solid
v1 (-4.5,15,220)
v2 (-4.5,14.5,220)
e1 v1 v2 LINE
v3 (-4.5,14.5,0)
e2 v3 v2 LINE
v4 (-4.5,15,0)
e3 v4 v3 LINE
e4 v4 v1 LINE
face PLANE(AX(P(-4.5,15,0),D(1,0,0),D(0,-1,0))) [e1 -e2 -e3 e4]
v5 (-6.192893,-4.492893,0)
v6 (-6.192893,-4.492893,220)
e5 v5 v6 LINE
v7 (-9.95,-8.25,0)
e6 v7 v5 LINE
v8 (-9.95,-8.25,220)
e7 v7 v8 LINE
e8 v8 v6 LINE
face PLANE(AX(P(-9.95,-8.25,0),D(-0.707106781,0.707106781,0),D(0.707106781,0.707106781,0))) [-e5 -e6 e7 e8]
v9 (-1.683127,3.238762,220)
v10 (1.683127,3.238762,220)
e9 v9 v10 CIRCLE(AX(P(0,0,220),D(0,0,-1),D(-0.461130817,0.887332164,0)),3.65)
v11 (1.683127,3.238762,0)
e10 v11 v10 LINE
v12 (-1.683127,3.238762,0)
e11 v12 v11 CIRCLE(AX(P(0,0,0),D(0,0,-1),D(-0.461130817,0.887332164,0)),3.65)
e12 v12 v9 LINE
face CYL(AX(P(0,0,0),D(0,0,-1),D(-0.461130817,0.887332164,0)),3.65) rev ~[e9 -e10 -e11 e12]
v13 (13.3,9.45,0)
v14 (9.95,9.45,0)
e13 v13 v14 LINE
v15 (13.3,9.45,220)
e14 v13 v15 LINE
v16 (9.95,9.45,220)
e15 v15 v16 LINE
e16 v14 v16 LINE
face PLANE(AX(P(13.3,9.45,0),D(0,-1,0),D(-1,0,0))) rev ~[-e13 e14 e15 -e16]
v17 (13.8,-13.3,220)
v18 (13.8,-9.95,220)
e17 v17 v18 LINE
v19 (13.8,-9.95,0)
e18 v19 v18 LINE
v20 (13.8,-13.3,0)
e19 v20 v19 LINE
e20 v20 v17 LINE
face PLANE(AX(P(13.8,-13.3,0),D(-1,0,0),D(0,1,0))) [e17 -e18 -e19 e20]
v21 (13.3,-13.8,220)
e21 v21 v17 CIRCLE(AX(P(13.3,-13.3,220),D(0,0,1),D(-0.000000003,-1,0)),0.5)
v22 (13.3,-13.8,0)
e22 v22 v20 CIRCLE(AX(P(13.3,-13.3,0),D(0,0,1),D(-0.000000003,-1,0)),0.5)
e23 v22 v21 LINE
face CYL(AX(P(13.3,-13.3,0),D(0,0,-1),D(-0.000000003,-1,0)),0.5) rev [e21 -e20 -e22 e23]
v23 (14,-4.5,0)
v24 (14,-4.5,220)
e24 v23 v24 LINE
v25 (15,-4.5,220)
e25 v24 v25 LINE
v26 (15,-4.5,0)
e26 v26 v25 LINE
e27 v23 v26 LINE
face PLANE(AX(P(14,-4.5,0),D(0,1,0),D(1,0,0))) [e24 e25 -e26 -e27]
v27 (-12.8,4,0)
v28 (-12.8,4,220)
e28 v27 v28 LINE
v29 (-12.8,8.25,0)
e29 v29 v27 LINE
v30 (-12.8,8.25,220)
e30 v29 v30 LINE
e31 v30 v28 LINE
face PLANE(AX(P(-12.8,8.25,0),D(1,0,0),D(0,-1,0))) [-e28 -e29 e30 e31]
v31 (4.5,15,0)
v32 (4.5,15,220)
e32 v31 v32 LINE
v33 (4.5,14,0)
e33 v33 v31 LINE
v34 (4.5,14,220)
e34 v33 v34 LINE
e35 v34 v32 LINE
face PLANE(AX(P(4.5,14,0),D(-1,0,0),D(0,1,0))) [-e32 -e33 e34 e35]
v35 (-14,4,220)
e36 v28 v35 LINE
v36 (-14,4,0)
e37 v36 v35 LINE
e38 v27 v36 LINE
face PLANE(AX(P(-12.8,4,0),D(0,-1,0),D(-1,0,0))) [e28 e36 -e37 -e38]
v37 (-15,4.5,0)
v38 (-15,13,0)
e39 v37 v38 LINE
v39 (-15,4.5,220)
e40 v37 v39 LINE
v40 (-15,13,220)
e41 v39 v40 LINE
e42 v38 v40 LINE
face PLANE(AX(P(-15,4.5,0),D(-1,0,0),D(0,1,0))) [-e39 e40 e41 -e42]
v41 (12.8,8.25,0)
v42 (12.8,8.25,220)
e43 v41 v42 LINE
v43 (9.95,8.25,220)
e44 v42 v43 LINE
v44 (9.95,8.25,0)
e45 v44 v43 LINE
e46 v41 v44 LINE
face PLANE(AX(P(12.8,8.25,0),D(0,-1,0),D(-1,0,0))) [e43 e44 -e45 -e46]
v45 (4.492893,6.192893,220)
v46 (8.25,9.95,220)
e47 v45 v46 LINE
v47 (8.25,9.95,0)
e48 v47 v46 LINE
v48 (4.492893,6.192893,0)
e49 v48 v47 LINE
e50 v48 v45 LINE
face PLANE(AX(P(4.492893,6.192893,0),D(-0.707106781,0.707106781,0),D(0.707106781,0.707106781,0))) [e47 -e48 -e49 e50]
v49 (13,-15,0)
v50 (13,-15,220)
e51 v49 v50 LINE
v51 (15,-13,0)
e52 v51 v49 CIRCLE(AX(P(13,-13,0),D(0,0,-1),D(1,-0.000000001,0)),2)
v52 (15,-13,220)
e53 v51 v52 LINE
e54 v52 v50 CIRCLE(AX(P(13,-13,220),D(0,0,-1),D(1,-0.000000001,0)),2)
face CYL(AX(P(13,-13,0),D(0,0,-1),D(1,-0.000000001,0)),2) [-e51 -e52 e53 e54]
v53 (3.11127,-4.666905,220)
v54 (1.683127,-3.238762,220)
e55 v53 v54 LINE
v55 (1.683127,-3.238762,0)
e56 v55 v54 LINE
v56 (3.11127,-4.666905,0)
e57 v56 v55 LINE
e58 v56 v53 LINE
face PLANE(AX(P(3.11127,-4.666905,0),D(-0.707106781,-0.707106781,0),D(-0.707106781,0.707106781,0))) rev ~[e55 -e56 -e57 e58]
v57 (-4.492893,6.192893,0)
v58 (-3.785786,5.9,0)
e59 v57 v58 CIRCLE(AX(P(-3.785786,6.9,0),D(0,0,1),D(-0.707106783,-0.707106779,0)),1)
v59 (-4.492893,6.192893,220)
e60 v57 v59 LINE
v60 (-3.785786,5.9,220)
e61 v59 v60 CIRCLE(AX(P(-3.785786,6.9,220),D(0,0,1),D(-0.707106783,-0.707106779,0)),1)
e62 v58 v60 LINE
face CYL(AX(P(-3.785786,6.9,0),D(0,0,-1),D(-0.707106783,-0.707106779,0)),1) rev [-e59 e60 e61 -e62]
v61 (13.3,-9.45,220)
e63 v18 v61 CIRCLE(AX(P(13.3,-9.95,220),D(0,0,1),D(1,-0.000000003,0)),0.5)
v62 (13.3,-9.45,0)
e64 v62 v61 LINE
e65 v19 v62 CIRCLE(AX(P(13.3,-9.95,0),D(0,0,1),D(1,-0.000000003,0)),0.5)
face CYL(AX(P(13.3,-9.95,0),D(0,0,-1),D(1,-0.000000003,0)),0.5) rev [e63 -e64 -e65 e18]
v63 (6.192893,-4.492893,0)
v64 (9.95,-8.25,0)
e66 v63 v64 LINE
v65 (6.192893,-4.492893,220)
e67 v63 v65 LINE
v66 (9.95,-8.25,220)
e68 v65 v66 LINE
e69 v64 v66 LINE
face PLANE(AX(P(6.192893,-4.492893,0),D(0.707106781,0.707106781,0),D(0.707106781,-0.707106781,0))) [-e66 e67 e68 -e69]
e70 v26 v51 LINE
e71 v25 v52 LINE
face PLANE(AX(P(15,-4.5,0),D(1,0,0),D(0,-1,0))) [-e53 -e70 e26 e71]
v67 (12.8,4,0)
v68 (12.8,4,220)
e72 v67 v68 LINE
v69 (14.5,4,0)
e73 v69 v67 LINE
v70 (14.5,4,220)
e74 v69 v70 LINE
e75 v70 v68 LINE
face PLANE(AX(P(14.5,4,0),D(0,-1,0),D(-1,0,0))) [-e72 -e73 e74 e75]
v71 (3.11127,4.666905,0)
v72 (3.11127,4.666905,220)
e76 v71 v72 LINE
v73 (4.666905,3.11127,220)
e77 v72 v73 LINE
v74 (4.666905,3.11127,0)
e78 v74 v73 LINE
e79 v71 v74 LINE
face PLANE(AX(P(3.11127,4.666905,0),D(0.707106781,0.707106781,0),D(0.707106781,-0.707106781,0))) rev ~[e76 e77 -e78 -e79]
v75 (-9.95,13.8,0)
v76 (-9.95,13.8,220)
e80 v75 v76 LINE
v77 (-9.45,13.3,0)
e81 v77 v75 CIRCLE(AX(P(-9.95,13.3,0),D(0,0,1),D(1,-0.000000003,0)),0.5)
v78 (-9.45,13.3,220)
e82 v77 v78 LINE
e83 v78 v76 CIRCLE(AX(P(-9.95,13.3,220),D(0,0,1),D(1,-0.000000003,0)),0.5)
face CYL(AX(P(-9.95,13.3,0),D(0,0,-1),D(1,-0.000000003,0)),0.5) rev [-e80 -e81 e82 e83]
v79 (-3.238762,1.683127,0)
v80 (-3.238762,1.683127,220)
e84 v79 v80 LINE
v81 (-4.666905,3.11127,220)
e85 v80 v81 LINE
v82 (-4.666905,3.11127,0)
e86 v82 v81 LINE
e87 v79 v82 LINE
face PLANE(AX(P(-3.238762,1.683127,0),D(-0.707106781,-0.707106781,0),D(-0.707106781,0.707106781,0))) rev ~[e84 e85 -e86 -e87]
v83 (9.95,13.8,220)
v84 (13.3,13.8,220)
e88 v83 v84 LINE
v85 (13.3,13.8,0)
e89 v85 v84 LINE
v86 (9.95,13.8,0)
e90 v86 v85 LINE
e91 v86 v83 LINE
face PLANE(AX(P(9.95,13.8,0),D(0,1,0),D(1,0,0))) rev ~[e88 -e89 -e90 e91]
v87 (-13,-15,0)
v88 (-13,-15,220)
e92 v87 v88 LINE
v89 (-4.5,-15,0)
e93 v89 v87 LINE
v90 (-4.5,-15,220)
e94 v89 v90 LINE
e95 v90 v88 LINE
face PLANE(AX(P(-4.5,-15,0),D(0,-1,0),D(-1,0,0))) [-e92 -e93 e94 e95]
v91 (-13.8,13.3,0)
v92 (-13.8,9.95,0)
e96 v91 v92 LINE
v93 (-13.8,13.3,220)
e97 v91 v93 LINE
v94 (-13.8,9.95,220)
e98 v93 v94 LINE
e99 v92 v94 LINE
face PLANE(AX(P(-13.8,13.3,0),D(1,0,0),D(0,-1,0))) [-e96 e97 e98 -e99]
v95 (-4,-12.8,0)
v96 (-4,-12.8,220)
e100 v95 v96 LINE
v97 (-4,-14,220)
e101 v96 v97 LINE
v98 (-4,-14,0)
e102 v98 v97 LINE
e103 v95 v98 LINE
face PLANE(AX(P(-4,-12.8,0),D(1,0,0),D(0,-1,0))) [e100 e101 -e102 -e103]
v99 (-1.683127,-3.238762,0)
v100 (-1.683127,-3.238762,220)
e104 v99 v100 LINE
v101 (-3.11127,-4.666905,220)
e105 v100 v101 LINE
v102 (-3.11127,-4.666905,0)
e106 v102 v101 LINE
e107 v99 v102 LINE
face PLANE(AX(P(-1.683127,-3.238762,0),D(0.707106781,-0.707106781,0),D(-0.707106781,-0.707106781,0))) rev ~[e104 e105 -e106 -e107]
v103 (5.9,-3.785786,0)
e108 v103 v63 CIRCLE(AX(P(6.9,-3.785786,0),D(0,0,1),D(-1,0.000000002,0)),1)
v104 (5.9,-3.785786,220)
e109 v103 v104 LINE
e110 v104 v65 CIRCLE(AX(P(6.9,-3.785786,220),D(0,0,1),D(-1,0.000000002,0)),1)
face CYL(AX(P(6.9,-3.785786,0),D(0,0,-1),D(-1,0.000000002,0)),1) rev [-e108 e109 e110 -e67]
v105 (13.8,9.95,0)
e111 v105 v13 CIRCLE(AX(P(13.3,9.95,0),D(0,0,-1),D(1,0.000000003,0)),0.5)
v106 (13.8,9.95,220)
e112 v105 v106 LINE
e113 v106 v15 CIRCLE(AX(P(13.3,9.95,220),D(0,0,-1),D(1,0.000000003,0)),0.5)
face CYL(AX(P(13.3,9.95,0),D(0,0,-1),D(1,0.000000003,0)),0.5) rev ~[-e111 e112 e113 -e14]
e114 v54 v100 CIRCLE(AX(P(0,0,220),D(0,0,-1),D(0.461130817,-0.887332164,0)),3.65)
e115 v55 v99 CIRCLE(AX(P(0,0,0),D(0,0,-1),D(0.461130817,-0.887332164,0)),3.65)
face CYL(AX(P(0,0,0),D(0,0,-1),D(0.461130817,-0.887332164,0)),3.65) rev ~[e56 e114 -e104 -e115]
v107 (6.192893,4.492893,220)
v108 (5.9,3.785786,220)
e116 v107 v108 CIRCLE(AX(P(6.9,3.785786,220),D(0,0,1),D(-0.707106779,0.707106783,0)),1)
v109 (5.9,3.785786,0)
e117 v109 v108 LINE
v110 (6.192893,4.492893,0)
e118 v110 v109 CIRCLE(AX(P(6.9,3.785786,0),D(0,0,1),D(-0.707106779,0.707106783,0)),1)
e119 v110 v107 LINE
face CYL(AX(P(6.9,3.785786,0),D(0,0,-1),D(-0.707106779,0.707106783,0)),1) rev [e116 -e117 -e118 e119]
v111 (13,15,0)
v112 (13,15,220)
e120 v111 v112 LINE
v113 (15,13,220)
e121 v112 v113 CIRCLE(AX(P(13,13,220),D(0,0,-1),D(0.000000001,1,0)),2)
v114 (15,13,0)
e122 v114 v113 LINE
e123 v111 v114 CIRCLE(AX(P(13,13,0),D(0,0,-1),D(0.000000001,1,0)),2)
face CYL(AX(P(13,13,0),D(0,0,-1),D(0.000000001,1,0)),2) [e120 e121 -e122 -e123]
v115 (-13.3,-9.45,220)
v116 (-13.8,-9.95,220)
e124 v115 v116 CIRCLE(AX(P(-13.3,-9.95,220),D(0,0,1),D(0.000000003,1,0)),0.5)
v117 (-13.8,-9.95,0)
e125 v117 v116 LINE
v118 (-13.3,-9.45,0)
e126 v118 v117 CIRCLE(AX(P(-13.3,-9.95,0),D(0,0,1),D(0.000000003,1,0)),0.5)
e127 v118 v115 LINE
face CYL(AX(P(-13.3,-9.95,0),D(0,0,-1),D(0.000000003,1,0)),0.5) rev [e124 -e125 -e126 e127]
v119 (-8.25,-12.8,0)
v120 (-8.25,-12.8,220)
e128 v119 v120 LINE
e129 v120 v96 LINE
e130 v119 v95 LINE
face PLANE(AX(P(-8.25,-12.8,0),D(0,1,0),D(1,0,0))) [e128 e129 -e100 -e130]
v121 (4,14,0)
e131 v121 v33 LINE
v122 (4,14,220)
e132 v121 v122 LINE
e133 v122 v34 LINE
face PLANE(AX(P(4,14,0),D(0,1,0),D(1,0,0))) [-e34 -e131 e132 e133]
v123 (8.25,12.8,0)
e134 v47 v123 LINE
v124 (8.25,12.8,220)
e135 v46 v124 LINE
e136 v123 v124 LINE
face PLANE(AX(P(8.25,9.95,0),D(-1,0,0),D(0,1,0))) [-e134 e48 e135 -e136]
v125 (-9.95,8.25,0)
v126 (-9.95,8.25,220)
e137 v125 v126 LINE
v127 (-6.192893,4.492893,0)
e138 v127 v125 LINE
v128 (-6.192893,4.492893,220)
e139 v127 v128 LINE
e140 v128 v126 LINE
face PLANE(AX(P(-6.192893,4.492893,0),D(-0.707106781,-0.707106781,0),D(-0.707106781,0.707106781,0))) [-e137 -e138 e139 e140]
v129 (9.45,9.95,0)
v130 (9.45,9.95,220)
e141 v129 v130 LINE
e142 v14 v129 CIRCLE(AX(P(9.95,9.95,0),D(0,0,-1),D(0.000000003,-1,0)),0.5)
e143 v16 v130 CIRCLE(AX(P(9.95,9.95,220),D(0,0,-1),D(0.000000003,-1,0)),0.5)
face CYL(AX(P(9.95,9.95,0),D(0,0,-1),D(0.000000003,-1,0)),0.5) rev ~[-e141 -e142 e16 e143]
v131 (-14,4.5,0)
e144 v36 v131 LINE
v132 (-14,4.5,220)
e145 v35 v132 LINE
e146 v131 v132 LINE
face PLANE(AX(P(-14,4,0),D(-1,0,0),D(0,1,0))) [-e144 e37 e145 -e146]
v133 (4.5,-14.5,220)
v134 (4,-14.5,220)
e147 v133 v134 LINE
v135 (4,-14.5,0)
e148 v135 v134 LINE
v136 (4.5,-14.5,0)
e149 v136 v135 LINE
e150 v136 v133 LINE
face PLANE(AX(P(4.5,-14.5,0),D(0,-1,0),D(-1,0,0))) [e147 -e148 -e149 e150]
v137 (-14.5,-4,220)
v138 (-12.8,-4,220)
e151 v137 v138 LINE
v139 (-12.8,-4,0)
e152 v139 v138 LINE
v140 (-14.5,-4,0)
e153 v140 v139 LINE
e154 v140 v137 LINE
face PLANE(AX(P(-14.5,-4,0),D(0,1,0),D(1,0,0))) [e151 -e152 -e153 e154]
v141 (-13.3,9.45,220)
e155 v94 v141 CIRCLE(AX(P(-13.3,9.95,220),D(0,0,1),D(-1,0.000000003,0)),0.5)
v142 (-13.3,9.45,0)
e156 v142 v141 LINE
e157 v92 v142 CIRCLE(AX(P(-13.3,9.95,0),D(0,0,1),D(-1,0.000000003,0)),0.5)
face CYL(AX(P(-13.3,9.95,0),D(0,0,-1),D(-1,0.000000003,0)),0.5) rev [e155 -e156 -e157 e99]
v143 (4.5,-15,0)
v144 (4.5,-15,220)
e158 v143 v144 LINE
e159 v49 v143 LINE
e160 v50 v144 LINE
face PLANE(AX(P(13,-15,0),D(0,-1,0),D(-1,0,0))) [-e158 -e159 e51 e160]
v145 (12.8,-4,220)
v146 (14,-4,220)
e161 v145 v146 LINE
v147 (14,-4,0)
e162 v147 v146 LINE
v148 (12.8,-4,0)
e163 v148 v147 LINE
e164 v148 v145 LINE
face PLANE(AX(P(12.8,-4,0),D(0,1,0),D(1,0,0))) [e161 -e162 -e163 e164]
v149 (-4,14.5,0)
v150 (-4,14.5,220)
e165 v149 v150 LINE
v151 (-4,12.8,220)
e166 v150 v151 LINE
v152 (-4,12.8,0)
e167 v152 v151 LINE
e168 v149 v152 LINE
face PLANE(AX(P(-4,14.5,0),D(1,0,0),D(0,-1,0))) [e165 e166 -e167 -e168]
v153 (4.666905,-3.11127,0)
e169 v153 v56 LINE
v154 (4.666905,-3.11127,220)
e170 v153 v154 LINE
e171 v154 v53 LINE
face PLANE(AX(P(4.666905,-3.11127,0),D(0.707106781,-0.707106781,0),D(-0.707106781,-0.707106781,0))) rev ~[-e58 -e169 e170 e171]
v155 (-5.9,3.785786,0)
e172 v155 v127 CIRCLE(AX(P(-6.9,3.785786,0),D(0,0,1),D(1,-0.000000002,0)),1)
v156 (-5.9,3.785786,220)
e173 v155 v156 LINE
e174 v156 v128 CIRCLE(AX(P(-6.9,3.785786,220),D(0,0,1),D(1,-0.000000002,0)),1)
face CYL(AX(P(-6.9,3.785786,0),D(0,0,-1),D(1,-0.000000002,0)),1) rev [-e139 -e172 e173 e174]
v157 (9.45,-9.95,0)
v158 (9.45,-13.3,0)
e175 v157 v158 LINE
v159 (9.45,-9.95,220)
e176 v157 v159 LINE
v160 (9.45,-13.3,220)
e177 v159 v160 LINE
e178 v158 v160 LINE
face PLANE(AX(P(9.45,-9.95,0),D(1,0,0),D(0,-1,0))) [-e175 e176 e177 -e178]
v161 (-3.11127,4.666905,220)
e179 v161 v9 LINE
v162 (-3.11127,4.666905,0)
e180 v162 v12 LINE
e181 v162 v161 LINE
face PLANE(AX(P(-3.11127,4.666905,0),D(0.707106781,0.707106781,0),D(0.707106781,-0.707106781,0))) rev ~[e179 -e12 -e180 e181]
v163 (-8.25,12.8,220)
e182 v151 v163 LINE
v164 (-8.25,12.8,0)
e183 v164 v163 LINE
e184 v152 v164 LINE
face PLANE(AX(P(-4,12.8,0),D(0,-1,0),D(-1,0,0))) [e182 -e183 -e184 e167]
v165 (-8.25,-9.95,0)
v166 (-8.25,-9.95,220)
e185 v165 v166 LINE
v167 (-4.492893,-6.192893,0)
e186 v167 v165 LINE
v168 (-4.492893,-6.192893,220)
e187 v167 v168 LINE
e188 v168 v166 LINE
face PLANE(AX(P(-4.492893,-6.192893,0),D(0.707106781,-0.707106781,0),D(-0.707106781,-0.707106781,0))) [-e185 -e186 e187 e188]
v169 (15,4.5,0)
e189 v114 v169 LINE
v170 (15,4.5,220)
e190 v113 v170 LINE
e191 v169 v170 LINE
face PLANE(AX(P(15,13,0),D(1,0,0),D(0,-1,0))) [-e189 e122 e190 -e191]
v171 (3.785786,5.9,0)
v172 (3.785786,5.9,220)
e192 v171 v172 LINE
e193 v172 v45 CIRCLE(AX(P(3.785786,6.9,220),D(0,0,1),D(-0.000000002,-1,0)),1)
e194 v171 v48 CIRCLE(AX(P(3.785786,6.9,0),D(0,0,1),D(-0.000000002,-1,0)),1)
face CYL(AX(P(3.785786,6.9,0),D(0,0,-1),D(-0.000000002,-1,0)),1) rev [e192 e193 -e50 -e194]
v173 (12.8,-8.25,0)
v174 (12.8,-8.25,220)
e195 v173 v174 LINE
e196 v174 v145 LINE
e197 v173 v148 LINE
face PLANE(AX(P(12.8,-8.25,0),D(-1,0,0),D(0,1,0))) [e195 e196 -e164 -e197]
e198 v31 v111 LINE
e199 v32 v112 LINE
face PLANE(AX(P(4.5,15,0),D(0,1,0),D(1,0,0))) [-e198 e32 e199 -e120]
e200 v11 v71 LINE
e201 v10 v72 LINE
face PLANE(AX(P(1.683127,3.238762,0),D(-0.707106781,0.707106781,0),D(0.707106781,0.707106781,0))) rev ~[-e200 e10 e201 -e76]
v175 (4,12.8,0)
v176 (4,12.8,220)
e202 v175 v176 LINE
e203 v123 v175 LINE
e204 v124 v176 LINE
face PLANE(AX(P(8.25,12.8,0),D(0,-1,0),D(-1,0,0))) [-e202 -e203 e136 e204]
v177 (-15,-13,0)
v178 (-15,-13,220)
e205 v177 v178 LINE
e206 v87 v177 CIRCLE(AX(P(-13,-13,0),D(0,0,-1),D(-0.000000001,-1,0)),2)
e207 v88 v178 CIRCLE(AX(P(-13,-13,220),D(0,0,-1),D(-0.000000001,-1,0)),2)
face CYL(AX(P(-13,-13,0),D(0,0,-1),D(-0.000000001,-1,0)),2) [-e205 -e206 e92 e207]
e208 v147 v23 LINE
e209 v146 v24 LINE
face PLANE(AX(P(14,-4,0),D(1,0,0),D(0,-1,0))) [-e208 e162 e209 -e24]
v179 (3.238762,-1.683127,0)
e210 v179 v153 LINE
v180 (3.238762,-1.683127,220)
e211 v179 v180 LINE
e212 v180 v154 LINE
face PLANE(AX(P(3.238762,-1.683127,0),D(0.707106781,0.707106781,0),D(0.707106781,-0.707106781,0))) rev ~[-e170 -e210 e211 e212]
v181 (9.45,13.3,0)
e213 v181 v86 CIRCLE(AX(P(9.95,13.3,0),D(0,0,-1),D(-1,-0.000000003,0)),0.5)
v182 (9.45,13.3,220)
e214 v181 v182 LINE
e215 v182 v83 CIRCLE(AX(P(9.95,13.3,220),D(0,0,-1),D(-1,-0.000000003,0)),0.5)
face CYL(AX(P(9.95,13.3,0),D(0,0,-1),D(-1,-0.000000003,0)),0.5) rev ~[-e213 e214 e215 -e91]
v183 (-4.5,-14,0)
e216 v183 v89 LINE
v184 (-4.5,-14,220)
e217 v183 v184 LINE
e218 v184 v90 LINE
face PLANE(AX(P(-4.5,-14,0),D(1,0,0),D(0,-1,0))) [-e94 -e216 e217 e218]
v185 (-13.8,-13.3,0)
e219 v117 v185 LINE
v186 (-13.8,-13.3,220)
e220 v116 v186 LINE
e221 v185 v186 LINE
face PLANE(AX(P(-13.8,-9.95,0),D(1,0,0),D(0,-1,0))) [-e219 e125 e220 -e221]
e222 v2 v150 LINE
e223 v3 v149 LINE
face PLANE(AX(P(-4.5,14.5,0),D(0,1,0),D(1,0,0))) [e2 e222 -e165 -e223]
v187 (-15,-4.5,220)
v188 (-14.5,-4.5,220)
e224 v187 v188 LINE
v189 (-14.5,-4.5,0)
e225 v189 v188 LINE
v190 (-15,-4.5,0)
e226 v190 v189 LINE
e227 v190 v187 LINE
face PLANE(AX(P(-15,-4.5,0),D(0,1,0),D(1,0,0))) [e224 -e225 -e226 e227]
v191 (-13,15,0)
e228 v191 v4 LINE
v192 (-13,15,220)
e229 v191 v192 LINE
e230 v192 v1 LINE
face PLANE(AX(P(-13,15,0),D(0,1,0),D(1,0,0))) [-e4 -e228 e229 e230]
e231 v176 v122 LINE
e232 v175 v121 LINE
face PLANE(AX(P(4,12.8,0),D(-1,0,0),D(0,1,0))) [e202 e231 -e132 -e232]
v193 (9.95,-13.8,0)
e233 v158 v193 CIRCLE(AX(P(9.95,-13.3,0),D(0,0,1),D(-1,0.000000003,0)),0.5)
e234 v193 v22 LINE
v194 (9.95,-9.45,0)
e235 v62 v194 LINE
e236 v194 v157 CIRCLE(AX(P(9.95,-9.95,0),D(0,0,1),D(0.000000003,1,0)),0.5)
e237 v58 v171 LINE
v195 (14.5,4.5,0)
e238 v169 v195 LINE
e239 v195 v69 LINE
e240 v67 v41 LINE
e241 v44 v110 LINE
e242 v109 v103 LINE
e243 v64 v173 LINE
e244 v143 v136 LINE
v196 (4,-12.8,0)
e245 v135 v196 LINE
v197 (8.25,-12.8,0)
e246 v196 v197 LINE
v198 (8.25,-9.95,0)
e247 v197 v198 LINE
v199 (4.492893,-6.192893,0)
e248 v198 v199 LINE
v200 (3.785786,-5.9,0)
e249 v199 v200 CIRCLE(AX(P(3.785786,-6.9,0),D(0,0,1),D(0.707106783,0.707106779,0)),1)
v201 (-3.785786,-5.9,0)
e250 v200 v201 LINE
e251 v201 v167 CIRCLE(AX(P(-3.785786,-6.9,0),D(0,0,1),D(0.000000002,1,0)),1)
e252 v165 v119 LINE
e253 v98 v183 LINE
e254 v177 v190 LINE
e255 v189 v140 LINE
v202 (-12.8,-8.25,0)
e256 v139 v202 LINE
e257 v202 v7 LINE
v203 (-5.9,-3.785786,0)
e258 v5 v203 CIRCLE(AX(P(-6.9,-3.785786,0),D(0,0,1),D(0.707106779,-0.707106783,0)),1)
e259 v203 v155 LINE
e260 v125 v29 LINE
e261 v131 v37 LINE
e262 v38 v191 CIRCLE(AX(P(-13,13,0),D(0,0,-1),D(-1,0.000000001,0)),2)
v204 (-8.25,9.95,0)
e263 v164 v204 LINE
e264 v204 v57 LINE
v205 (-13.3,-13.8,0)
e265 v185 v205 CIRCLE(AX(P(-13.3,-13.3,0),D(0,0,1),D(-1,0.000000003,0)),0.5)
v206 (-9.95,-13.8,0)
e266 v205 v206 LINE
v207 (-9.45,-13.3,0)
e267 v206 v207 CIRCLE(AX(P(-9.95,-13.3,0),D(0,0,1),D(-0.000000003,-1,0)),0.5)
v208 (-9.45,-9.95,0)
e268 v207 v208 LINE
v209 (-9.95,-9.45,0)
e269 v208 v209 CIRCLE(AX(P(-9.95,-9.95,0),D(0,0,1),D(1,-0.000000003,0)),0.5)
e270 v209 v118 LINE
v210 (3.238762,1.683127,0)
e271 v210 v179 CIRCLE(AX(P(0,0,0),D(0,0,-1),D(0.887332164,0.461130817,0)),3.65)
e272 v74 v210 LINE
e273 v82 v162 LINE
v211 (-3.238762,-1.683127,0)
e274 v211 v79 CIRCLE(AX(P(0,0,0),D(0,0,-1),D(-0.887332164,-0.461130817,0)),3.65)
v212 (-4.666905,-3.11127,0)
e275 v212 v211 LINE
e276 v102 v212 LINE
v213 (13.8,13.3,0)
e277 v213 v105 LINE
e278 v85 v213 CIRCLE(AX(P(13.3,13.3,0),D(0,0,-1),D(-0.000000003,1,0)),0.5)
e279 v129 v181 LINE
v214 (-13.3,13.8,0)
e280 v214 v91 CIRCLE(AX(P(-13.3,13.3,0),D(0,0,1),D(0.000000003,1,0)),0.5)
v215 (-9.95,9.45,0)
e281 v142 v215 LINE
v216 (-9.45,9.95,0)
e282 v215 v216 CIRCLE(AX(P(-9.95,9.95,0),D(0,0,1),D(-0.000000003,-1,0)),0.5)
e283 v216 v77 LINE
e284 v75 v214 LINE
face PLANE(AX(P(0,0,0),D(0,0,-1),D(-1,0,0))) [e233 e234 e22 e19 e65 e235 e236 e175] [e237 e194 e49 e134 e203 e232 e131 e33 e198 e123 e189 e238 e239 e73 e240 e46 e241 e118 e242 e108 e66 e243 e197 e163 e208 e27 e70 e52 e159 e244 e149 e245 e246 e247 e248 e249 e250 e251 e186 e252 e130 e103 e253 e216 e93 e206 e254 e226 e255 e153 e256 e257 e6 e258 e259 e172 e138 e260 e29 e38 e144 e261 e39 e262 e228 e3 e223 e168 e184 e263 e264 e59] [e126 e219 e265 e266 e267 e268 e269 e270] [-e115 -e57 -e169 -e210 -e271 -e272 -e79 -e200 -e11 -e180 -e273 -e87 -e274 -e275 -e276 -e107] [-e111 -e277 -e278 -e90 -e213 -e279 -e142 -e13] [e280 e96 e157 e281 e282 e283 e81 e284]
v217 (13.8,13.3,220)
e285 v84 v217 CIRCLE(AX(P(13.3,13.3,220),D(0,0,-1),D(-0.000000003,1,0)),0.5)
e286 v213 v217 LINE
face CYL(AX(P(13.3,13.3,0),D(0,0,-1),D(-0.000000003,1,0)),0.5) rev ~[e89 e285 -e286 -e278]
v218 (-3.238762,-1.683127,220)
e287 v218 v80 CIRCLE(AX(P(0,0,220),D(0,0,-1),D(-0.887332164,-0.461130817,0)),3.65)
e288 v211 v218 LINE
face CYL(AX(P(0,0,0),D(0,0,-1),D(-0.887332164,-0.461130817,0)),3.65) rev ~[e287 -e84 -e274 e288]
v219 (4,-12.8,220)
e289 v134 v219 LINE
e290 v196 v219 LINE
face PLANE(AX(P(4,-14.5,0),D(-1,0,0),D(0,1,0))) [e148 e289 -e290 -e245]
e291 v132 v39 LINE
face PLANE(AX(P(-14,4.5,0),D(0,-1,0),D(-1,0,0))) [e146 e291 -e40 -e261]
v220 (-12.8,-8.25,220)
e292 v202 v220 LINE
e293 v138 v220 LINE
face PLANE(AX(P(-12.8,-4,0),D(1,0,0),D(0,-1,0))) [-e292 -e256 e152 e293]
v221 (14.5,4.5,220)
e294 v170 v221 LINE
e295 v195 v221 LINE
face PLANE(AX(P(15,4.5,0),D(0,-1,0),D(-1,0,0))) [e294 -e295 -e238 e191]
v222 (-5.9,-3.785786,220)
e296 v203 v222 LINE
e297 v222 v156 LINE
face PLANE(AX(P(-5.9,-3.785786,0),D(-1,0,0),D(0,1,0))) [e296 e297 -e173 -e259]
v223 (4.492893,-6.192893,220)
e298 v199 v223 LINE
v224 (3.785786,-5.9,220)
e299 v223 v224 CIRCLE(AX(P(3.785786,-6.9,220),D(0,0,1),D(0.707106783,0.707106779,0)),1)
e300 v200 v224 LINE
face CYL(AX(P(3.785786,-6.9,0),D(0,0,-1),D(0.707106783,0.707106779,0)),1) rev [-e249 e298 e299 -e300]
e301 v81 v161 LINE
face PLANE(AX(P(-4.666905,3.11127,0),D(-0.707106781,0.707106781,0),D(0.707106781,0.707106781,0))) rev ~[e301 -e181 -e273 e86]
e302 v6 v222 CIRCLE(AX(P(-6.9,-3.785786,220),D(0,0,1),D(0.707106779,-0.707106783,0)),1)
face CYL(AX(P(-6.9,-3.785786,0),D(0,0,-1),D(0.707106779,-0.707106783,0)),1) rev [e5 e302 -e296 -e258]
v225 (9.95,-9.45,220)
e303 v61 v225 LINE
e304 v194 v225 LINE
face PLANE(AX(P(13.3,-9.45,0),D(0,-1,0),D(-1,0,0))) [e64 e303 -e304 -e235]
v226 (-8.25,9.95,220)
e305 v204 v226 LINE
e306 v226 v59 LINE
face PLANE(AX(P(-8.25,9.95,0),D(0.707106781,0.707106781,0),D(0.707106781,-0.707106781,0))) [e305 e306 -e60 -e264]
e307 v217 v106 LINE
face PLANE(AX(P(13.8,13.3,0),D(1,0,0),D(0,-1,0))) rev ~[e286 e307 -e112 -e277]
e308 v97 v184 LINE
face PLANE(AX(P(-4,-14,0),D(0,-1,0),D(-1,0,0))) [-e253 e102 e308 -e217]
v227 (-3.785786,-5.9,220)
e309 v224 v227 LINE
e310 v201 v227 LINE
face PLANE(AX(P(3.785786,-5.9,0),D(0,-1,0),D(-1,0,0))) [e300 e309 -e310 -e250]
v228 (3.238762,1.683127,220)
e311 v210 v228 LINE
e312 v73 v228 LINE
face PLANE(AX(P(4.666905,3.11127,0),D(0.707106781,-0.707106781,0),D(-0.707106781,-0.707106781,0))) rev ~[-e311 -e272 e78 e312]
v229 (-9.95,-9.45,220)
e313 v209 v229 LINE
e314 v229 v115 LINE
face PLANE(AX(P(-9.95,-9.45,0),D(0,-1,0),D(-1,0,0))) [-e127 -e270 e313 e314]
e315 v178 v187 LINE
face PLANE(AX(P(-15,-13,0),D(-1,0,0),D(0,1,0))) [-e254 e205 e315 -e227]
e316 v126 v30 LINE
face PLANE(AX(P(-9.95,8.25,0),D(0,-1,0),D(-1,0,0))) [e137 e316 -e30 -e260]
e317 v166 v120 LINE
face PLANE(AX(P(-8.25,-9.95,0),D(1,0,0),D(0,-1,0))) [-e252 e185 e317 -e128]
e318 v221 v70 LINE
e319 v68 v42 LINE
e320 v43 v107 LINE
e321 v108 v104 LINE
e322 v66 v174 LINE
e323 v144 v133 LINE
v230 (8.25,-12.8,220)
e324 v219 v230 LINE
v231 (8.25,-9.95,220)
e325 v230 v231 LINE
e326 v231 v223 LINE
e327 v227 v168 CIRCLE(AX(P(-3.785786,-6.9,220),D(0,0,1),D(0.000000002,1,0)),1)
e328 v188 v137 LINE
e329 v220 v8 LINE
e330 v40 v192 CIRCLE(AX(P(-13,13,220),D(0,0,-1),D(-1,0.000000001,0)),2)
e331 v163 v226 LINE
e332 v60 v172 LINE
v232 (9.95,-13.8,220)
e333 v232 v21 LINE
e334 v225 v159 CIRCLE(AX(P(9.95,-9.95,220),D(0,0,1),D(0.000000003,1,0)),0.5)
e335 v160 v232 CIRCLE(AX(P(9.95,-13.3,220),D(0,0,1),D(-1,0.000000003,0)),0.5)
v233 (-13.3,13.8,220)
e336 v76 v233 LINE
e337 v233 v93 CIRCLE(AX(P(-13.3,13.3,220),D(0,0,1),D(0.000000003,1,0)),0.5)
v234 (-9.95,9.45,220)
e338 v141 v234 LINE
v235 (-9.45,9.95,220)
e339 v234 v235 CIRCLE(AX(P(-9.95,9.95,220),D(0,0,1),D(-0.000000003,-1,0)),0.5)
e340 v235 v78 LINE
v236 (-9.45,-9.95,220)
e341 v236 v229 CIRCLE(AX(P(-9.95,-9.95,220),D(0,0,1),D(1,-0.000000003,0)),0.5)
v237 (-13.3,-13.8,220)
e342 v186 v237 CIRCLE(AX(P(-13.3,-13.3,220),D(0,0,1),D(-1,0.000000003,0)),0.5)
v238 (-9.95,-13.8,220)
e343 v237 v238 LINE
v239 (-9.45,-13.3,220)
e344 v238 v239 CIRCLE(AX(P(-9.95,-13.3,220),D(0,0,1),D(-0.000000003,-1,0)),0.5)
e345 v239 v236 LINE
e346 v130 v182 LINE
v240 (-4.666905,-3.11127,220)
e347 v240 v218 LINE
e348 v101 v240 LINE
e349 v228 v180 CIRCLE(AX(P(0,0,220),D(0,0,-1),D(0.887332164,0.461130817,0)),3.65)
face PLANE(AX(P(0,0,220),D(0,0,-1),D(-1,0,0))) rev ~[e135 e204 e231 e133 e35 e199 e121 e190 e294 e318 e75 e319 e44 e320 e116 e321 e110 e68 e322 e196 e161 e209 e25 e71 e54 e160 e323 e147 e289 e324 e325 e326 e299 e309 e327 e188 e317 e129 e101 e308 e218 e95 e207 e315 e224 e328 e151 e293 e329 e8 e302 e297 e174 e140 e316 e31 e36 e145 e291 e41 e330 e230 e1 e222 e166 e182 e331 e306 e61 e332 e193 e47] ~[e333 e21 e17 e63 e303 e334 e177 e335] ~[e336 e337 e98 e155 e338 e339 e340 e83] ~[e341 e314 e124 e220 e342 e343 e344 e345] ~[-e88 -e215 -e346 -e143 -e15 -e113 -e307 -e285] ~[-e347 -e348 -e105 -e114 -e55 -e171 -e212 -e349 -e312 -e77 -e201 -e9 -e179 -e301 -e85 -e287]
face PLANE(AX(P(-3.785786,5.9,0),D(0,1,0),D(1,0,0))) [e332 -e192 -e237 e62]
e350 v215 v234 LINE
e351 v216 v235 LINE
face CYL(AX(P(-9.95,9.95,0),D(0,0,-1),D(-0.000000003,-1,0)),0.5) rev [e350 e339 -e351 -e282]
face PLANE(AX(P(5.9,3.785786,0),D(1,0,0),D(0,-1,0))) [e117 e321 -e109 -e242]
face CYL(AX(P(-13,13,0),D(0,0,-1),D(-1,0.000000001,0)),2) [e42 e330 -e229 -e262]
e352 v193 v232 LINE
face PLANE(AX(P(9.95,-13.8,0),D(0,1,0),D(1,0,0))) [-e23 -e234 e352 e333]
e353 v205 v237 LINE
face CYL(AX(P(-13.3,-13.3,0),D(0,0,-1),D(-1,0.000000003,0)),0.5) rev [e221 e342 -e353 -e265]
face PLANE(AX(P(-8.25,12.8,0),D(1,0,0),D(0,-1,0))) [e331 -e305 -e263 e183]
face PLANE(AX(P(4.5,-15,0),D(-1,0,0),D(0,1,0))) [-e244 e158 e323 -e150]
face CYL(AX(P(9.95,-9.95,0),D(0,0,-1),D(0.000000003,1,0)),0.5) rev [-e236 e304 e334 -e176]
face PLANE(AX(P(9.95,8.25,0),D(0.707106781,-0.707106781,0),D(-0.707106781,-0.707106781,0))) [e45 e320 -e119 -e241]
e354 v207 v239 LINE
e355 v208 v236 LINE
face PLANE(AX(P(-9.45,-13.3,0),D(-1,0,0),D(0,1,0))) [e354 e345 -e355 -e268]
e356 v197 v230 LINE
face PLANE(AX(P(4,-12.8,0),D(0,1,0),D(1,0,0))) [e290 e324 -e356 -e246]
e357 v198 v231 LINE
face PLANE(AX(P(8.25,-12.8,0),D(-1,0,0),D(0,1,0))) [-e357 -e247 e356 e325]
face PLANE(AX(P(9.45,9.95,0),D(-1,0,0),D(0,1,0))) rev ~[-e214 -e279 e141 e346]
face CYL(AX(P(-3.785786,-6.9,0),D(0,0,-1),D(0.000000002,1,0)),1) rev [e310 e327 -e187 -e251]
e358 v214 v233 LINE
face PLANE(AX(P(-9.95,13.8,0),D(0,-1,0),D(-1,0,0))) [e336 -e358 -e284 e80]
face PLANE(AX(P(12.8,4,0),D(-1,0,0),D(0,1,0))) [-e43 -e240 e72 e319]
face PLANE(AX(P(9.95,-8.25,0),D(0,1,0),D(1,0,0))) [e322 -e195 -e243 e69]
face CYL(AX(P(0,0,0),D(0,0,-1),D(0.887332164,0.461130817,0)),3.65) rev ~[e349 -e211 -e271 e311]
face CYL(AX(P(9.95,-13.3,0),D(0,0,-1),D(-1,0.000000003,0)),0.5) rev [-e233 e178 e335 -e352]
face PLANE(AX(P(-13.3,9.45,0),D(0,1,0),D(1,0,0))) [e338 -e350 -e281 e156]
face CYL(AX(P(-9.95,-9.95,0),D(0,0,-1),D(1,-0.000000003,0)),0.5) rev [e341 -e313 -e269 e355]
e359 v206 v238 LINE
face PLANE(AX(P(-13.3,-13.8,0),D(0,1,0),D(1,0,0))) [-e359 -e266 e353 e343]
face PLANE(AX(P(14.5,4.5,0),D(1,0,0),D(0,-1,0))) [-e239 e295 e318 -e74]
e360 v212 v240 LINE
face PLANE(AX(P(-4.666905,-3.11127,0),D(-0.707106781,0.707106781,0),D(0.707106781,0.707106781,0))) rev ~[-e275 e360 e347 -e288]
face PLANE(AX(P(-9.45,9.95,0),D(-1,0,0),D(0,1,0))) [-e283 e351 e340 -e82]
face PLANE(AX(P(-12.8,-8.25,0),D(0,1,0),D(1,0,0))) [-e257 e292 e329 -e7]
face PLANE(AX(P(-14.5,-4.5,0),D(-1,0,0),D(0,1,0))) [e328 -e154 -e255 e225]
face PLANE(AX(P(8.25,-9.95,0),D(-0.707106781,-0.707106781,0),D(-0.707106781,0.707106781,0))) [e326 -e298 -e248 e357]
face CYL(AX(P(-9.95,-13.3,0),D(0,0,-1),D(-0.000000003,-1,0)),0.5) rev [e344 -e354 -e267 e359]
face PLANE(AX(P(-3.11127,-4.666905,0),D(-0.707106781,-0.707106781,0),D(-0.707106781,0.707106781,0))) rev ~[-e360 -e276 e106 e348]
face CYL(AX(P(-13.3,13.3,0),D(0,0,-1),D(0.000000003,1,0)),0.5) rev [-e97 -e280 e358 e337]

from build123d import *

# Parameters (mm, degrees)
BOSS_EXTRUDE1_DEPTH = 220


with BuildPart() as part:
    # Sketch1 → Boss-Extrude1 (new body)
    with BuildSketch(Plane.XY):
        with BuildLine():
            Line((-4.5, 14.5), (-4.5, 15))
            Line((-4.5, 15), (-13, 15))
            ThreePointArc((-13, 15), (-14.414213562, 14.414213562), (-15, 13))
            Line((-15, 13), (-15, 4.5))
            Line((-15, 4.5), (-14, 4.5))
            Line((-14, 4.5), (-14, 4))
            Line((-14, 4), (-12.8, 4))
            Line((-12.8, 4), (-12.8, 8.25))
            Line((-12.8, 8.25), (-9.95, 8.25))
            Line((-9.95, 8.25), (-6.192893219, 4.492893219))
            ThreePointArc((-6.192893219, 4.492893219), (-5.976120467, 4.16846987), (-5.9, 3.785786438))
            Line((-5.9, 3.785786438), (-5.9, -3.785786438))
            ThreePointArc((-5.9, -3.785786438), (-5.976120467, -4.16846987), (-6.192893219, -4.492893219))
            Line((-6.192893219, -4.492893219), (-9.95, -8.25))
            Line((-9.95, -8.25), (-12.8, -8.25))
            Line((-12.8, -8.25), (-12.8, -4))
            Line((-12.8, -4), (-14.5, -4))
            Line((-14.5, -4), (-14.5, -4.5))
            Line((-14.5, -4.5), (-15, -4.5))
            Line((-15, -4.5), (-15, -13))
            ThreePointArc((-15, -13), (-14.414213562, -14.414213562), (-13, -15))
            Line((-13, -15), (-4.5, -15))
            Line((-4.5, -15), (-4.5, -14))
            Line((-4.5, -14), (-4, -14))
            Line((-4, -14), (-4, -12.8))
            Line((-4, -12.8), (-8.25, -12.8))
            Line((-8.25, -12.8), (-8.25, -9.95))
            Line((-8.25, -9.95), (-4.492893219, -6.192893219))
            ThreePointArc((-4.492893219, -6.192893219), (-4.16846987, -5.976120467), (-3.785786438, -5.9))
            Line((-3.785786438, -5.9), (3.785786438, -5.9))
            ThreePointArc((3.785786438, -5.9), (4.16846987, -5.976120467), (4.492893219, -6.192893219))
            Line((4.492893219, -6.192893219), (8.25, -9.95))
            Line((8.25, -9.95), (8.25, -12.8))
            Line((8.25, -12.8), (4, -12.8))
            Line((4, -12.8), (4, -14.5))
            Line((4, -14.5), (4.5, -14.5))
            Line((4.5, -14.5), (4.5, -15))
            Line((4.5, -15), (13, -15))
            ThreePointArc((13, -15), (14.414213562, -14.414213562), (15, -13))
            Line((15, -13), (15, -4.5))
            Line((15, -4.5), (14, -4.5))
            Line((14, -4.5), (14, -4))
            Line((14, -4), (12.8, -4))
            Line((12.8, -4), (12.8, -8.25))
            Line((12.8, -8.25), (9.95, -8.25))
            Line((9.95, -8.25), (6.192893219, -4.492893219))
            ThreePointArc((6.192893219, -4.492893219), (5.976120467, -4.16846987), (5.9, -3.785786438))
            Line((5.9, -3.785786438), (5.9, 3.785786438))
            ThreePointArc((5.9, 3.785786438), (5.976120467, 4.16846987), (6.192893219, 4.492893219))
            Line((6.192893219, 4.492893219), (9.95, 8.25))
            Line((9.95, 8.25), (12.8, 8.25))
            Line((12.8, 8.25), (12.8, 4))
            Line((12.8, 4), (14.5, 4))
            Line((14.5, 4), (14.5, 4.5))
            Line((14.5, 4.5), (15, 4.5))
            Line((15, 4.5), (15, 13))
            ThreePointArc((15, 13), (14.414213562, 14.414213562), (13, 15))
            Line((13, 15), (4.5, 15))
            Line((4.5, 15), (4.5, 14))
            Line((4.5, 14), (4, 14))
            Line((4, 14), (4, 12.8))
            Line((4, 12.8), (8.25, 12.8))
            Line((8.25, 12.8), (8.25, 9.95))
            Line((8.25, 9.95), (4.492893219, 6.192893219))
            ThreePointArc((4.492893219, 6.192893219), (4.16846987, 5.976120467), (3.785786438, 5.9))
            Line((3.785786438, 5.9), (-3.785786438, 5.9))
            ThreePointArc((-3.785786438, 5.9), (-4.16846987, 5.976120467), (-4.492893219, 6.192893219))
            Line((-4.492893219, 6.192893219), (-8.25, 9.95))
            Line((-8.25, 9.95), (-8.25, 12.8))
            Line((-8.25, 12.8), (-4, 12.8))
            Line((-4, 12.8), (-4, 14.5))
            Line((-4, 14.5), (-4.5, 14.5))
        make_face()
        with BuildLine():
            Line((-9.45, -9.95), (-9.45, -13.3))
            ThreePointArc((-9.45, -13.3), (-9.596446609, -13.653553391), (-9.95, -13.8))
            Line((-9.95, -13.8), (-13.3, -13.8))
            ThreePointArc((-13.3, -13.8), (-13.653553391, -13.653553391), (-13.8, -13.3))
            Line((-13.8, -13.3), (-13.8, -9.95))
            ThreePointArc((-13.8, -9.95), (-13.653553391, -9.596446609), (-13.3, -9.45))
            Line((-13.3, -9.45), (-9.95, -9.45))
            ThreePointArc((-9.95, -9.45), (-9.596446609, -9.596446609), (-9.45, -9.95))
        make_face(mode=Mode.SUBTRACT)
        with BuildLine():
            Line((9.95, -9.45), (13.3, -9.45))
            ThreePointArc((13.3, -9.45), (13.653553391, -9.596446609), (13.8, -9.95))
            Line((13.8, -9.95), (13.8, -13.3))
            ThreePointArc((13.8, -13.3), (13.653553391, -13.653553391), (13.3, -13.8))
            Line((13.3, -13.8), (9.95, -13.8))
            ThreePointArc((9.95, -13.8), (9.596446609, -13.653553391), (9.45, -13.3))
            Line((9.45, -13.3), (9.45, -9.95))
            ThreePointArc((9.45, -9.95), (9.596446609, -9.596446609), (9.95, -9.45))
        make_face(mode=Mode.SUBTRACT)
        with BuildLine():
            Line((-9.95, 9.45), (-13.3, 9.45))
            ThreePointArc((-13.3, 9.45), (-13.653553391, 9.596446609), (-13.8, 9.95))
            Line((-13.8, 9.95), (-13.8, 13.3))
            ThreePointArc((-13.8, 13.3), (-13.653553391, 13.653553391), (-13.3, 13.8))
            Line((-13.3, 13.8), (-9.95, 13.8))
            ThreePointArc((-9.95, 13.8), (-9.596446609, 13.653553391), (-9.45, 13.3))
            Line((-9.45, 13.3), (-9.45, 9.95))
            ThreePointArc((-9.45, 9.95), (-9.596446609, 9.596446609), (-9.95, 9.45))
        make_face(mode=Mode.SUBTRACT)
        with BuildLine():
            ThreePointArc((1.683127481, -3.2387624), (0, -3.65), (-1.683127481, -3.2387624))
            Line((-1.683127481, -3.2387624), (-3.111269837, -4.666904756))
            Line((-3.111269837, -4.666904756), (-4.666904756, -3.111269837))
            Line((-4.666904756, -3.111269837), (-3.2387624, -1.683127481))
            ThreePointArc((-3.2387624, -1.683127481), (-3.65, 0), (-3.2387624, 1.683127481))
            Line((-3.2387624, 1.683127481), (-4.666904756, 3.111269837))
            Line((-4.666904756, 3.111269837), (-3.111269837, 4.666904756))
            Line((-3.111269837, 4.666904756), (-1.683127481, 3.2387624))
            ThreePointArc((-1.683127481, 3.2387624), (0, 3.65), (1.683127481, 3.2387624))
            Line((1.683127481, 3.2387624), (3.111269837, 4.666904756))
            Line((3.111269837, 4.666904756), (4.666904756, 3.111269837))
            Line((4.666904756, 3.111269837), (3.2387624, 1.683127481))
            ThreePointArc((3.2387624, 1.683127481), (3.65, 0), (3.2387624, -1.683127481))
            Line((3.2387624, -1.683127481), (4.666904756, -3.111269837))
            Line((4.666904756, -3.111269837), (3.111269837, -4.666904756))
            Line((3.111269837, -4.666904756), (1.683127481, -3.2387624))
        make_face(mode=Mode.SUBTRACT)
        with BuildLine():
            ThreePointArc((9.45, 13.3), (9.596446609, 13.653553391), (9.95, 13.8))
            Line((9.95, 13.8), (13.3, 13.8))
            ThreePointArc((13.3, 13.8), (13.653553391, 13.653553391), (13.8, 13.3))
            Line((13.8, 13.3), (13.8, 9.95))
            ThreePointArc((13.8, 9.95), (13.653553391, 9.596446609), (13.3, 9.45))
            Line((13.3, 9.45), (9.95, 9.45))
            ThreePointArc((9.95, 9.45), (9.596446609, 9.596446609), (9.45, 9.95))
            Line((9.45, 9.95), (9.45, 13.3))
        make_face(mode=Mode.SUBTRACT)
    extrude(amount=BOSS_EXTRUDE1_DEPTH)


solid = part.part
